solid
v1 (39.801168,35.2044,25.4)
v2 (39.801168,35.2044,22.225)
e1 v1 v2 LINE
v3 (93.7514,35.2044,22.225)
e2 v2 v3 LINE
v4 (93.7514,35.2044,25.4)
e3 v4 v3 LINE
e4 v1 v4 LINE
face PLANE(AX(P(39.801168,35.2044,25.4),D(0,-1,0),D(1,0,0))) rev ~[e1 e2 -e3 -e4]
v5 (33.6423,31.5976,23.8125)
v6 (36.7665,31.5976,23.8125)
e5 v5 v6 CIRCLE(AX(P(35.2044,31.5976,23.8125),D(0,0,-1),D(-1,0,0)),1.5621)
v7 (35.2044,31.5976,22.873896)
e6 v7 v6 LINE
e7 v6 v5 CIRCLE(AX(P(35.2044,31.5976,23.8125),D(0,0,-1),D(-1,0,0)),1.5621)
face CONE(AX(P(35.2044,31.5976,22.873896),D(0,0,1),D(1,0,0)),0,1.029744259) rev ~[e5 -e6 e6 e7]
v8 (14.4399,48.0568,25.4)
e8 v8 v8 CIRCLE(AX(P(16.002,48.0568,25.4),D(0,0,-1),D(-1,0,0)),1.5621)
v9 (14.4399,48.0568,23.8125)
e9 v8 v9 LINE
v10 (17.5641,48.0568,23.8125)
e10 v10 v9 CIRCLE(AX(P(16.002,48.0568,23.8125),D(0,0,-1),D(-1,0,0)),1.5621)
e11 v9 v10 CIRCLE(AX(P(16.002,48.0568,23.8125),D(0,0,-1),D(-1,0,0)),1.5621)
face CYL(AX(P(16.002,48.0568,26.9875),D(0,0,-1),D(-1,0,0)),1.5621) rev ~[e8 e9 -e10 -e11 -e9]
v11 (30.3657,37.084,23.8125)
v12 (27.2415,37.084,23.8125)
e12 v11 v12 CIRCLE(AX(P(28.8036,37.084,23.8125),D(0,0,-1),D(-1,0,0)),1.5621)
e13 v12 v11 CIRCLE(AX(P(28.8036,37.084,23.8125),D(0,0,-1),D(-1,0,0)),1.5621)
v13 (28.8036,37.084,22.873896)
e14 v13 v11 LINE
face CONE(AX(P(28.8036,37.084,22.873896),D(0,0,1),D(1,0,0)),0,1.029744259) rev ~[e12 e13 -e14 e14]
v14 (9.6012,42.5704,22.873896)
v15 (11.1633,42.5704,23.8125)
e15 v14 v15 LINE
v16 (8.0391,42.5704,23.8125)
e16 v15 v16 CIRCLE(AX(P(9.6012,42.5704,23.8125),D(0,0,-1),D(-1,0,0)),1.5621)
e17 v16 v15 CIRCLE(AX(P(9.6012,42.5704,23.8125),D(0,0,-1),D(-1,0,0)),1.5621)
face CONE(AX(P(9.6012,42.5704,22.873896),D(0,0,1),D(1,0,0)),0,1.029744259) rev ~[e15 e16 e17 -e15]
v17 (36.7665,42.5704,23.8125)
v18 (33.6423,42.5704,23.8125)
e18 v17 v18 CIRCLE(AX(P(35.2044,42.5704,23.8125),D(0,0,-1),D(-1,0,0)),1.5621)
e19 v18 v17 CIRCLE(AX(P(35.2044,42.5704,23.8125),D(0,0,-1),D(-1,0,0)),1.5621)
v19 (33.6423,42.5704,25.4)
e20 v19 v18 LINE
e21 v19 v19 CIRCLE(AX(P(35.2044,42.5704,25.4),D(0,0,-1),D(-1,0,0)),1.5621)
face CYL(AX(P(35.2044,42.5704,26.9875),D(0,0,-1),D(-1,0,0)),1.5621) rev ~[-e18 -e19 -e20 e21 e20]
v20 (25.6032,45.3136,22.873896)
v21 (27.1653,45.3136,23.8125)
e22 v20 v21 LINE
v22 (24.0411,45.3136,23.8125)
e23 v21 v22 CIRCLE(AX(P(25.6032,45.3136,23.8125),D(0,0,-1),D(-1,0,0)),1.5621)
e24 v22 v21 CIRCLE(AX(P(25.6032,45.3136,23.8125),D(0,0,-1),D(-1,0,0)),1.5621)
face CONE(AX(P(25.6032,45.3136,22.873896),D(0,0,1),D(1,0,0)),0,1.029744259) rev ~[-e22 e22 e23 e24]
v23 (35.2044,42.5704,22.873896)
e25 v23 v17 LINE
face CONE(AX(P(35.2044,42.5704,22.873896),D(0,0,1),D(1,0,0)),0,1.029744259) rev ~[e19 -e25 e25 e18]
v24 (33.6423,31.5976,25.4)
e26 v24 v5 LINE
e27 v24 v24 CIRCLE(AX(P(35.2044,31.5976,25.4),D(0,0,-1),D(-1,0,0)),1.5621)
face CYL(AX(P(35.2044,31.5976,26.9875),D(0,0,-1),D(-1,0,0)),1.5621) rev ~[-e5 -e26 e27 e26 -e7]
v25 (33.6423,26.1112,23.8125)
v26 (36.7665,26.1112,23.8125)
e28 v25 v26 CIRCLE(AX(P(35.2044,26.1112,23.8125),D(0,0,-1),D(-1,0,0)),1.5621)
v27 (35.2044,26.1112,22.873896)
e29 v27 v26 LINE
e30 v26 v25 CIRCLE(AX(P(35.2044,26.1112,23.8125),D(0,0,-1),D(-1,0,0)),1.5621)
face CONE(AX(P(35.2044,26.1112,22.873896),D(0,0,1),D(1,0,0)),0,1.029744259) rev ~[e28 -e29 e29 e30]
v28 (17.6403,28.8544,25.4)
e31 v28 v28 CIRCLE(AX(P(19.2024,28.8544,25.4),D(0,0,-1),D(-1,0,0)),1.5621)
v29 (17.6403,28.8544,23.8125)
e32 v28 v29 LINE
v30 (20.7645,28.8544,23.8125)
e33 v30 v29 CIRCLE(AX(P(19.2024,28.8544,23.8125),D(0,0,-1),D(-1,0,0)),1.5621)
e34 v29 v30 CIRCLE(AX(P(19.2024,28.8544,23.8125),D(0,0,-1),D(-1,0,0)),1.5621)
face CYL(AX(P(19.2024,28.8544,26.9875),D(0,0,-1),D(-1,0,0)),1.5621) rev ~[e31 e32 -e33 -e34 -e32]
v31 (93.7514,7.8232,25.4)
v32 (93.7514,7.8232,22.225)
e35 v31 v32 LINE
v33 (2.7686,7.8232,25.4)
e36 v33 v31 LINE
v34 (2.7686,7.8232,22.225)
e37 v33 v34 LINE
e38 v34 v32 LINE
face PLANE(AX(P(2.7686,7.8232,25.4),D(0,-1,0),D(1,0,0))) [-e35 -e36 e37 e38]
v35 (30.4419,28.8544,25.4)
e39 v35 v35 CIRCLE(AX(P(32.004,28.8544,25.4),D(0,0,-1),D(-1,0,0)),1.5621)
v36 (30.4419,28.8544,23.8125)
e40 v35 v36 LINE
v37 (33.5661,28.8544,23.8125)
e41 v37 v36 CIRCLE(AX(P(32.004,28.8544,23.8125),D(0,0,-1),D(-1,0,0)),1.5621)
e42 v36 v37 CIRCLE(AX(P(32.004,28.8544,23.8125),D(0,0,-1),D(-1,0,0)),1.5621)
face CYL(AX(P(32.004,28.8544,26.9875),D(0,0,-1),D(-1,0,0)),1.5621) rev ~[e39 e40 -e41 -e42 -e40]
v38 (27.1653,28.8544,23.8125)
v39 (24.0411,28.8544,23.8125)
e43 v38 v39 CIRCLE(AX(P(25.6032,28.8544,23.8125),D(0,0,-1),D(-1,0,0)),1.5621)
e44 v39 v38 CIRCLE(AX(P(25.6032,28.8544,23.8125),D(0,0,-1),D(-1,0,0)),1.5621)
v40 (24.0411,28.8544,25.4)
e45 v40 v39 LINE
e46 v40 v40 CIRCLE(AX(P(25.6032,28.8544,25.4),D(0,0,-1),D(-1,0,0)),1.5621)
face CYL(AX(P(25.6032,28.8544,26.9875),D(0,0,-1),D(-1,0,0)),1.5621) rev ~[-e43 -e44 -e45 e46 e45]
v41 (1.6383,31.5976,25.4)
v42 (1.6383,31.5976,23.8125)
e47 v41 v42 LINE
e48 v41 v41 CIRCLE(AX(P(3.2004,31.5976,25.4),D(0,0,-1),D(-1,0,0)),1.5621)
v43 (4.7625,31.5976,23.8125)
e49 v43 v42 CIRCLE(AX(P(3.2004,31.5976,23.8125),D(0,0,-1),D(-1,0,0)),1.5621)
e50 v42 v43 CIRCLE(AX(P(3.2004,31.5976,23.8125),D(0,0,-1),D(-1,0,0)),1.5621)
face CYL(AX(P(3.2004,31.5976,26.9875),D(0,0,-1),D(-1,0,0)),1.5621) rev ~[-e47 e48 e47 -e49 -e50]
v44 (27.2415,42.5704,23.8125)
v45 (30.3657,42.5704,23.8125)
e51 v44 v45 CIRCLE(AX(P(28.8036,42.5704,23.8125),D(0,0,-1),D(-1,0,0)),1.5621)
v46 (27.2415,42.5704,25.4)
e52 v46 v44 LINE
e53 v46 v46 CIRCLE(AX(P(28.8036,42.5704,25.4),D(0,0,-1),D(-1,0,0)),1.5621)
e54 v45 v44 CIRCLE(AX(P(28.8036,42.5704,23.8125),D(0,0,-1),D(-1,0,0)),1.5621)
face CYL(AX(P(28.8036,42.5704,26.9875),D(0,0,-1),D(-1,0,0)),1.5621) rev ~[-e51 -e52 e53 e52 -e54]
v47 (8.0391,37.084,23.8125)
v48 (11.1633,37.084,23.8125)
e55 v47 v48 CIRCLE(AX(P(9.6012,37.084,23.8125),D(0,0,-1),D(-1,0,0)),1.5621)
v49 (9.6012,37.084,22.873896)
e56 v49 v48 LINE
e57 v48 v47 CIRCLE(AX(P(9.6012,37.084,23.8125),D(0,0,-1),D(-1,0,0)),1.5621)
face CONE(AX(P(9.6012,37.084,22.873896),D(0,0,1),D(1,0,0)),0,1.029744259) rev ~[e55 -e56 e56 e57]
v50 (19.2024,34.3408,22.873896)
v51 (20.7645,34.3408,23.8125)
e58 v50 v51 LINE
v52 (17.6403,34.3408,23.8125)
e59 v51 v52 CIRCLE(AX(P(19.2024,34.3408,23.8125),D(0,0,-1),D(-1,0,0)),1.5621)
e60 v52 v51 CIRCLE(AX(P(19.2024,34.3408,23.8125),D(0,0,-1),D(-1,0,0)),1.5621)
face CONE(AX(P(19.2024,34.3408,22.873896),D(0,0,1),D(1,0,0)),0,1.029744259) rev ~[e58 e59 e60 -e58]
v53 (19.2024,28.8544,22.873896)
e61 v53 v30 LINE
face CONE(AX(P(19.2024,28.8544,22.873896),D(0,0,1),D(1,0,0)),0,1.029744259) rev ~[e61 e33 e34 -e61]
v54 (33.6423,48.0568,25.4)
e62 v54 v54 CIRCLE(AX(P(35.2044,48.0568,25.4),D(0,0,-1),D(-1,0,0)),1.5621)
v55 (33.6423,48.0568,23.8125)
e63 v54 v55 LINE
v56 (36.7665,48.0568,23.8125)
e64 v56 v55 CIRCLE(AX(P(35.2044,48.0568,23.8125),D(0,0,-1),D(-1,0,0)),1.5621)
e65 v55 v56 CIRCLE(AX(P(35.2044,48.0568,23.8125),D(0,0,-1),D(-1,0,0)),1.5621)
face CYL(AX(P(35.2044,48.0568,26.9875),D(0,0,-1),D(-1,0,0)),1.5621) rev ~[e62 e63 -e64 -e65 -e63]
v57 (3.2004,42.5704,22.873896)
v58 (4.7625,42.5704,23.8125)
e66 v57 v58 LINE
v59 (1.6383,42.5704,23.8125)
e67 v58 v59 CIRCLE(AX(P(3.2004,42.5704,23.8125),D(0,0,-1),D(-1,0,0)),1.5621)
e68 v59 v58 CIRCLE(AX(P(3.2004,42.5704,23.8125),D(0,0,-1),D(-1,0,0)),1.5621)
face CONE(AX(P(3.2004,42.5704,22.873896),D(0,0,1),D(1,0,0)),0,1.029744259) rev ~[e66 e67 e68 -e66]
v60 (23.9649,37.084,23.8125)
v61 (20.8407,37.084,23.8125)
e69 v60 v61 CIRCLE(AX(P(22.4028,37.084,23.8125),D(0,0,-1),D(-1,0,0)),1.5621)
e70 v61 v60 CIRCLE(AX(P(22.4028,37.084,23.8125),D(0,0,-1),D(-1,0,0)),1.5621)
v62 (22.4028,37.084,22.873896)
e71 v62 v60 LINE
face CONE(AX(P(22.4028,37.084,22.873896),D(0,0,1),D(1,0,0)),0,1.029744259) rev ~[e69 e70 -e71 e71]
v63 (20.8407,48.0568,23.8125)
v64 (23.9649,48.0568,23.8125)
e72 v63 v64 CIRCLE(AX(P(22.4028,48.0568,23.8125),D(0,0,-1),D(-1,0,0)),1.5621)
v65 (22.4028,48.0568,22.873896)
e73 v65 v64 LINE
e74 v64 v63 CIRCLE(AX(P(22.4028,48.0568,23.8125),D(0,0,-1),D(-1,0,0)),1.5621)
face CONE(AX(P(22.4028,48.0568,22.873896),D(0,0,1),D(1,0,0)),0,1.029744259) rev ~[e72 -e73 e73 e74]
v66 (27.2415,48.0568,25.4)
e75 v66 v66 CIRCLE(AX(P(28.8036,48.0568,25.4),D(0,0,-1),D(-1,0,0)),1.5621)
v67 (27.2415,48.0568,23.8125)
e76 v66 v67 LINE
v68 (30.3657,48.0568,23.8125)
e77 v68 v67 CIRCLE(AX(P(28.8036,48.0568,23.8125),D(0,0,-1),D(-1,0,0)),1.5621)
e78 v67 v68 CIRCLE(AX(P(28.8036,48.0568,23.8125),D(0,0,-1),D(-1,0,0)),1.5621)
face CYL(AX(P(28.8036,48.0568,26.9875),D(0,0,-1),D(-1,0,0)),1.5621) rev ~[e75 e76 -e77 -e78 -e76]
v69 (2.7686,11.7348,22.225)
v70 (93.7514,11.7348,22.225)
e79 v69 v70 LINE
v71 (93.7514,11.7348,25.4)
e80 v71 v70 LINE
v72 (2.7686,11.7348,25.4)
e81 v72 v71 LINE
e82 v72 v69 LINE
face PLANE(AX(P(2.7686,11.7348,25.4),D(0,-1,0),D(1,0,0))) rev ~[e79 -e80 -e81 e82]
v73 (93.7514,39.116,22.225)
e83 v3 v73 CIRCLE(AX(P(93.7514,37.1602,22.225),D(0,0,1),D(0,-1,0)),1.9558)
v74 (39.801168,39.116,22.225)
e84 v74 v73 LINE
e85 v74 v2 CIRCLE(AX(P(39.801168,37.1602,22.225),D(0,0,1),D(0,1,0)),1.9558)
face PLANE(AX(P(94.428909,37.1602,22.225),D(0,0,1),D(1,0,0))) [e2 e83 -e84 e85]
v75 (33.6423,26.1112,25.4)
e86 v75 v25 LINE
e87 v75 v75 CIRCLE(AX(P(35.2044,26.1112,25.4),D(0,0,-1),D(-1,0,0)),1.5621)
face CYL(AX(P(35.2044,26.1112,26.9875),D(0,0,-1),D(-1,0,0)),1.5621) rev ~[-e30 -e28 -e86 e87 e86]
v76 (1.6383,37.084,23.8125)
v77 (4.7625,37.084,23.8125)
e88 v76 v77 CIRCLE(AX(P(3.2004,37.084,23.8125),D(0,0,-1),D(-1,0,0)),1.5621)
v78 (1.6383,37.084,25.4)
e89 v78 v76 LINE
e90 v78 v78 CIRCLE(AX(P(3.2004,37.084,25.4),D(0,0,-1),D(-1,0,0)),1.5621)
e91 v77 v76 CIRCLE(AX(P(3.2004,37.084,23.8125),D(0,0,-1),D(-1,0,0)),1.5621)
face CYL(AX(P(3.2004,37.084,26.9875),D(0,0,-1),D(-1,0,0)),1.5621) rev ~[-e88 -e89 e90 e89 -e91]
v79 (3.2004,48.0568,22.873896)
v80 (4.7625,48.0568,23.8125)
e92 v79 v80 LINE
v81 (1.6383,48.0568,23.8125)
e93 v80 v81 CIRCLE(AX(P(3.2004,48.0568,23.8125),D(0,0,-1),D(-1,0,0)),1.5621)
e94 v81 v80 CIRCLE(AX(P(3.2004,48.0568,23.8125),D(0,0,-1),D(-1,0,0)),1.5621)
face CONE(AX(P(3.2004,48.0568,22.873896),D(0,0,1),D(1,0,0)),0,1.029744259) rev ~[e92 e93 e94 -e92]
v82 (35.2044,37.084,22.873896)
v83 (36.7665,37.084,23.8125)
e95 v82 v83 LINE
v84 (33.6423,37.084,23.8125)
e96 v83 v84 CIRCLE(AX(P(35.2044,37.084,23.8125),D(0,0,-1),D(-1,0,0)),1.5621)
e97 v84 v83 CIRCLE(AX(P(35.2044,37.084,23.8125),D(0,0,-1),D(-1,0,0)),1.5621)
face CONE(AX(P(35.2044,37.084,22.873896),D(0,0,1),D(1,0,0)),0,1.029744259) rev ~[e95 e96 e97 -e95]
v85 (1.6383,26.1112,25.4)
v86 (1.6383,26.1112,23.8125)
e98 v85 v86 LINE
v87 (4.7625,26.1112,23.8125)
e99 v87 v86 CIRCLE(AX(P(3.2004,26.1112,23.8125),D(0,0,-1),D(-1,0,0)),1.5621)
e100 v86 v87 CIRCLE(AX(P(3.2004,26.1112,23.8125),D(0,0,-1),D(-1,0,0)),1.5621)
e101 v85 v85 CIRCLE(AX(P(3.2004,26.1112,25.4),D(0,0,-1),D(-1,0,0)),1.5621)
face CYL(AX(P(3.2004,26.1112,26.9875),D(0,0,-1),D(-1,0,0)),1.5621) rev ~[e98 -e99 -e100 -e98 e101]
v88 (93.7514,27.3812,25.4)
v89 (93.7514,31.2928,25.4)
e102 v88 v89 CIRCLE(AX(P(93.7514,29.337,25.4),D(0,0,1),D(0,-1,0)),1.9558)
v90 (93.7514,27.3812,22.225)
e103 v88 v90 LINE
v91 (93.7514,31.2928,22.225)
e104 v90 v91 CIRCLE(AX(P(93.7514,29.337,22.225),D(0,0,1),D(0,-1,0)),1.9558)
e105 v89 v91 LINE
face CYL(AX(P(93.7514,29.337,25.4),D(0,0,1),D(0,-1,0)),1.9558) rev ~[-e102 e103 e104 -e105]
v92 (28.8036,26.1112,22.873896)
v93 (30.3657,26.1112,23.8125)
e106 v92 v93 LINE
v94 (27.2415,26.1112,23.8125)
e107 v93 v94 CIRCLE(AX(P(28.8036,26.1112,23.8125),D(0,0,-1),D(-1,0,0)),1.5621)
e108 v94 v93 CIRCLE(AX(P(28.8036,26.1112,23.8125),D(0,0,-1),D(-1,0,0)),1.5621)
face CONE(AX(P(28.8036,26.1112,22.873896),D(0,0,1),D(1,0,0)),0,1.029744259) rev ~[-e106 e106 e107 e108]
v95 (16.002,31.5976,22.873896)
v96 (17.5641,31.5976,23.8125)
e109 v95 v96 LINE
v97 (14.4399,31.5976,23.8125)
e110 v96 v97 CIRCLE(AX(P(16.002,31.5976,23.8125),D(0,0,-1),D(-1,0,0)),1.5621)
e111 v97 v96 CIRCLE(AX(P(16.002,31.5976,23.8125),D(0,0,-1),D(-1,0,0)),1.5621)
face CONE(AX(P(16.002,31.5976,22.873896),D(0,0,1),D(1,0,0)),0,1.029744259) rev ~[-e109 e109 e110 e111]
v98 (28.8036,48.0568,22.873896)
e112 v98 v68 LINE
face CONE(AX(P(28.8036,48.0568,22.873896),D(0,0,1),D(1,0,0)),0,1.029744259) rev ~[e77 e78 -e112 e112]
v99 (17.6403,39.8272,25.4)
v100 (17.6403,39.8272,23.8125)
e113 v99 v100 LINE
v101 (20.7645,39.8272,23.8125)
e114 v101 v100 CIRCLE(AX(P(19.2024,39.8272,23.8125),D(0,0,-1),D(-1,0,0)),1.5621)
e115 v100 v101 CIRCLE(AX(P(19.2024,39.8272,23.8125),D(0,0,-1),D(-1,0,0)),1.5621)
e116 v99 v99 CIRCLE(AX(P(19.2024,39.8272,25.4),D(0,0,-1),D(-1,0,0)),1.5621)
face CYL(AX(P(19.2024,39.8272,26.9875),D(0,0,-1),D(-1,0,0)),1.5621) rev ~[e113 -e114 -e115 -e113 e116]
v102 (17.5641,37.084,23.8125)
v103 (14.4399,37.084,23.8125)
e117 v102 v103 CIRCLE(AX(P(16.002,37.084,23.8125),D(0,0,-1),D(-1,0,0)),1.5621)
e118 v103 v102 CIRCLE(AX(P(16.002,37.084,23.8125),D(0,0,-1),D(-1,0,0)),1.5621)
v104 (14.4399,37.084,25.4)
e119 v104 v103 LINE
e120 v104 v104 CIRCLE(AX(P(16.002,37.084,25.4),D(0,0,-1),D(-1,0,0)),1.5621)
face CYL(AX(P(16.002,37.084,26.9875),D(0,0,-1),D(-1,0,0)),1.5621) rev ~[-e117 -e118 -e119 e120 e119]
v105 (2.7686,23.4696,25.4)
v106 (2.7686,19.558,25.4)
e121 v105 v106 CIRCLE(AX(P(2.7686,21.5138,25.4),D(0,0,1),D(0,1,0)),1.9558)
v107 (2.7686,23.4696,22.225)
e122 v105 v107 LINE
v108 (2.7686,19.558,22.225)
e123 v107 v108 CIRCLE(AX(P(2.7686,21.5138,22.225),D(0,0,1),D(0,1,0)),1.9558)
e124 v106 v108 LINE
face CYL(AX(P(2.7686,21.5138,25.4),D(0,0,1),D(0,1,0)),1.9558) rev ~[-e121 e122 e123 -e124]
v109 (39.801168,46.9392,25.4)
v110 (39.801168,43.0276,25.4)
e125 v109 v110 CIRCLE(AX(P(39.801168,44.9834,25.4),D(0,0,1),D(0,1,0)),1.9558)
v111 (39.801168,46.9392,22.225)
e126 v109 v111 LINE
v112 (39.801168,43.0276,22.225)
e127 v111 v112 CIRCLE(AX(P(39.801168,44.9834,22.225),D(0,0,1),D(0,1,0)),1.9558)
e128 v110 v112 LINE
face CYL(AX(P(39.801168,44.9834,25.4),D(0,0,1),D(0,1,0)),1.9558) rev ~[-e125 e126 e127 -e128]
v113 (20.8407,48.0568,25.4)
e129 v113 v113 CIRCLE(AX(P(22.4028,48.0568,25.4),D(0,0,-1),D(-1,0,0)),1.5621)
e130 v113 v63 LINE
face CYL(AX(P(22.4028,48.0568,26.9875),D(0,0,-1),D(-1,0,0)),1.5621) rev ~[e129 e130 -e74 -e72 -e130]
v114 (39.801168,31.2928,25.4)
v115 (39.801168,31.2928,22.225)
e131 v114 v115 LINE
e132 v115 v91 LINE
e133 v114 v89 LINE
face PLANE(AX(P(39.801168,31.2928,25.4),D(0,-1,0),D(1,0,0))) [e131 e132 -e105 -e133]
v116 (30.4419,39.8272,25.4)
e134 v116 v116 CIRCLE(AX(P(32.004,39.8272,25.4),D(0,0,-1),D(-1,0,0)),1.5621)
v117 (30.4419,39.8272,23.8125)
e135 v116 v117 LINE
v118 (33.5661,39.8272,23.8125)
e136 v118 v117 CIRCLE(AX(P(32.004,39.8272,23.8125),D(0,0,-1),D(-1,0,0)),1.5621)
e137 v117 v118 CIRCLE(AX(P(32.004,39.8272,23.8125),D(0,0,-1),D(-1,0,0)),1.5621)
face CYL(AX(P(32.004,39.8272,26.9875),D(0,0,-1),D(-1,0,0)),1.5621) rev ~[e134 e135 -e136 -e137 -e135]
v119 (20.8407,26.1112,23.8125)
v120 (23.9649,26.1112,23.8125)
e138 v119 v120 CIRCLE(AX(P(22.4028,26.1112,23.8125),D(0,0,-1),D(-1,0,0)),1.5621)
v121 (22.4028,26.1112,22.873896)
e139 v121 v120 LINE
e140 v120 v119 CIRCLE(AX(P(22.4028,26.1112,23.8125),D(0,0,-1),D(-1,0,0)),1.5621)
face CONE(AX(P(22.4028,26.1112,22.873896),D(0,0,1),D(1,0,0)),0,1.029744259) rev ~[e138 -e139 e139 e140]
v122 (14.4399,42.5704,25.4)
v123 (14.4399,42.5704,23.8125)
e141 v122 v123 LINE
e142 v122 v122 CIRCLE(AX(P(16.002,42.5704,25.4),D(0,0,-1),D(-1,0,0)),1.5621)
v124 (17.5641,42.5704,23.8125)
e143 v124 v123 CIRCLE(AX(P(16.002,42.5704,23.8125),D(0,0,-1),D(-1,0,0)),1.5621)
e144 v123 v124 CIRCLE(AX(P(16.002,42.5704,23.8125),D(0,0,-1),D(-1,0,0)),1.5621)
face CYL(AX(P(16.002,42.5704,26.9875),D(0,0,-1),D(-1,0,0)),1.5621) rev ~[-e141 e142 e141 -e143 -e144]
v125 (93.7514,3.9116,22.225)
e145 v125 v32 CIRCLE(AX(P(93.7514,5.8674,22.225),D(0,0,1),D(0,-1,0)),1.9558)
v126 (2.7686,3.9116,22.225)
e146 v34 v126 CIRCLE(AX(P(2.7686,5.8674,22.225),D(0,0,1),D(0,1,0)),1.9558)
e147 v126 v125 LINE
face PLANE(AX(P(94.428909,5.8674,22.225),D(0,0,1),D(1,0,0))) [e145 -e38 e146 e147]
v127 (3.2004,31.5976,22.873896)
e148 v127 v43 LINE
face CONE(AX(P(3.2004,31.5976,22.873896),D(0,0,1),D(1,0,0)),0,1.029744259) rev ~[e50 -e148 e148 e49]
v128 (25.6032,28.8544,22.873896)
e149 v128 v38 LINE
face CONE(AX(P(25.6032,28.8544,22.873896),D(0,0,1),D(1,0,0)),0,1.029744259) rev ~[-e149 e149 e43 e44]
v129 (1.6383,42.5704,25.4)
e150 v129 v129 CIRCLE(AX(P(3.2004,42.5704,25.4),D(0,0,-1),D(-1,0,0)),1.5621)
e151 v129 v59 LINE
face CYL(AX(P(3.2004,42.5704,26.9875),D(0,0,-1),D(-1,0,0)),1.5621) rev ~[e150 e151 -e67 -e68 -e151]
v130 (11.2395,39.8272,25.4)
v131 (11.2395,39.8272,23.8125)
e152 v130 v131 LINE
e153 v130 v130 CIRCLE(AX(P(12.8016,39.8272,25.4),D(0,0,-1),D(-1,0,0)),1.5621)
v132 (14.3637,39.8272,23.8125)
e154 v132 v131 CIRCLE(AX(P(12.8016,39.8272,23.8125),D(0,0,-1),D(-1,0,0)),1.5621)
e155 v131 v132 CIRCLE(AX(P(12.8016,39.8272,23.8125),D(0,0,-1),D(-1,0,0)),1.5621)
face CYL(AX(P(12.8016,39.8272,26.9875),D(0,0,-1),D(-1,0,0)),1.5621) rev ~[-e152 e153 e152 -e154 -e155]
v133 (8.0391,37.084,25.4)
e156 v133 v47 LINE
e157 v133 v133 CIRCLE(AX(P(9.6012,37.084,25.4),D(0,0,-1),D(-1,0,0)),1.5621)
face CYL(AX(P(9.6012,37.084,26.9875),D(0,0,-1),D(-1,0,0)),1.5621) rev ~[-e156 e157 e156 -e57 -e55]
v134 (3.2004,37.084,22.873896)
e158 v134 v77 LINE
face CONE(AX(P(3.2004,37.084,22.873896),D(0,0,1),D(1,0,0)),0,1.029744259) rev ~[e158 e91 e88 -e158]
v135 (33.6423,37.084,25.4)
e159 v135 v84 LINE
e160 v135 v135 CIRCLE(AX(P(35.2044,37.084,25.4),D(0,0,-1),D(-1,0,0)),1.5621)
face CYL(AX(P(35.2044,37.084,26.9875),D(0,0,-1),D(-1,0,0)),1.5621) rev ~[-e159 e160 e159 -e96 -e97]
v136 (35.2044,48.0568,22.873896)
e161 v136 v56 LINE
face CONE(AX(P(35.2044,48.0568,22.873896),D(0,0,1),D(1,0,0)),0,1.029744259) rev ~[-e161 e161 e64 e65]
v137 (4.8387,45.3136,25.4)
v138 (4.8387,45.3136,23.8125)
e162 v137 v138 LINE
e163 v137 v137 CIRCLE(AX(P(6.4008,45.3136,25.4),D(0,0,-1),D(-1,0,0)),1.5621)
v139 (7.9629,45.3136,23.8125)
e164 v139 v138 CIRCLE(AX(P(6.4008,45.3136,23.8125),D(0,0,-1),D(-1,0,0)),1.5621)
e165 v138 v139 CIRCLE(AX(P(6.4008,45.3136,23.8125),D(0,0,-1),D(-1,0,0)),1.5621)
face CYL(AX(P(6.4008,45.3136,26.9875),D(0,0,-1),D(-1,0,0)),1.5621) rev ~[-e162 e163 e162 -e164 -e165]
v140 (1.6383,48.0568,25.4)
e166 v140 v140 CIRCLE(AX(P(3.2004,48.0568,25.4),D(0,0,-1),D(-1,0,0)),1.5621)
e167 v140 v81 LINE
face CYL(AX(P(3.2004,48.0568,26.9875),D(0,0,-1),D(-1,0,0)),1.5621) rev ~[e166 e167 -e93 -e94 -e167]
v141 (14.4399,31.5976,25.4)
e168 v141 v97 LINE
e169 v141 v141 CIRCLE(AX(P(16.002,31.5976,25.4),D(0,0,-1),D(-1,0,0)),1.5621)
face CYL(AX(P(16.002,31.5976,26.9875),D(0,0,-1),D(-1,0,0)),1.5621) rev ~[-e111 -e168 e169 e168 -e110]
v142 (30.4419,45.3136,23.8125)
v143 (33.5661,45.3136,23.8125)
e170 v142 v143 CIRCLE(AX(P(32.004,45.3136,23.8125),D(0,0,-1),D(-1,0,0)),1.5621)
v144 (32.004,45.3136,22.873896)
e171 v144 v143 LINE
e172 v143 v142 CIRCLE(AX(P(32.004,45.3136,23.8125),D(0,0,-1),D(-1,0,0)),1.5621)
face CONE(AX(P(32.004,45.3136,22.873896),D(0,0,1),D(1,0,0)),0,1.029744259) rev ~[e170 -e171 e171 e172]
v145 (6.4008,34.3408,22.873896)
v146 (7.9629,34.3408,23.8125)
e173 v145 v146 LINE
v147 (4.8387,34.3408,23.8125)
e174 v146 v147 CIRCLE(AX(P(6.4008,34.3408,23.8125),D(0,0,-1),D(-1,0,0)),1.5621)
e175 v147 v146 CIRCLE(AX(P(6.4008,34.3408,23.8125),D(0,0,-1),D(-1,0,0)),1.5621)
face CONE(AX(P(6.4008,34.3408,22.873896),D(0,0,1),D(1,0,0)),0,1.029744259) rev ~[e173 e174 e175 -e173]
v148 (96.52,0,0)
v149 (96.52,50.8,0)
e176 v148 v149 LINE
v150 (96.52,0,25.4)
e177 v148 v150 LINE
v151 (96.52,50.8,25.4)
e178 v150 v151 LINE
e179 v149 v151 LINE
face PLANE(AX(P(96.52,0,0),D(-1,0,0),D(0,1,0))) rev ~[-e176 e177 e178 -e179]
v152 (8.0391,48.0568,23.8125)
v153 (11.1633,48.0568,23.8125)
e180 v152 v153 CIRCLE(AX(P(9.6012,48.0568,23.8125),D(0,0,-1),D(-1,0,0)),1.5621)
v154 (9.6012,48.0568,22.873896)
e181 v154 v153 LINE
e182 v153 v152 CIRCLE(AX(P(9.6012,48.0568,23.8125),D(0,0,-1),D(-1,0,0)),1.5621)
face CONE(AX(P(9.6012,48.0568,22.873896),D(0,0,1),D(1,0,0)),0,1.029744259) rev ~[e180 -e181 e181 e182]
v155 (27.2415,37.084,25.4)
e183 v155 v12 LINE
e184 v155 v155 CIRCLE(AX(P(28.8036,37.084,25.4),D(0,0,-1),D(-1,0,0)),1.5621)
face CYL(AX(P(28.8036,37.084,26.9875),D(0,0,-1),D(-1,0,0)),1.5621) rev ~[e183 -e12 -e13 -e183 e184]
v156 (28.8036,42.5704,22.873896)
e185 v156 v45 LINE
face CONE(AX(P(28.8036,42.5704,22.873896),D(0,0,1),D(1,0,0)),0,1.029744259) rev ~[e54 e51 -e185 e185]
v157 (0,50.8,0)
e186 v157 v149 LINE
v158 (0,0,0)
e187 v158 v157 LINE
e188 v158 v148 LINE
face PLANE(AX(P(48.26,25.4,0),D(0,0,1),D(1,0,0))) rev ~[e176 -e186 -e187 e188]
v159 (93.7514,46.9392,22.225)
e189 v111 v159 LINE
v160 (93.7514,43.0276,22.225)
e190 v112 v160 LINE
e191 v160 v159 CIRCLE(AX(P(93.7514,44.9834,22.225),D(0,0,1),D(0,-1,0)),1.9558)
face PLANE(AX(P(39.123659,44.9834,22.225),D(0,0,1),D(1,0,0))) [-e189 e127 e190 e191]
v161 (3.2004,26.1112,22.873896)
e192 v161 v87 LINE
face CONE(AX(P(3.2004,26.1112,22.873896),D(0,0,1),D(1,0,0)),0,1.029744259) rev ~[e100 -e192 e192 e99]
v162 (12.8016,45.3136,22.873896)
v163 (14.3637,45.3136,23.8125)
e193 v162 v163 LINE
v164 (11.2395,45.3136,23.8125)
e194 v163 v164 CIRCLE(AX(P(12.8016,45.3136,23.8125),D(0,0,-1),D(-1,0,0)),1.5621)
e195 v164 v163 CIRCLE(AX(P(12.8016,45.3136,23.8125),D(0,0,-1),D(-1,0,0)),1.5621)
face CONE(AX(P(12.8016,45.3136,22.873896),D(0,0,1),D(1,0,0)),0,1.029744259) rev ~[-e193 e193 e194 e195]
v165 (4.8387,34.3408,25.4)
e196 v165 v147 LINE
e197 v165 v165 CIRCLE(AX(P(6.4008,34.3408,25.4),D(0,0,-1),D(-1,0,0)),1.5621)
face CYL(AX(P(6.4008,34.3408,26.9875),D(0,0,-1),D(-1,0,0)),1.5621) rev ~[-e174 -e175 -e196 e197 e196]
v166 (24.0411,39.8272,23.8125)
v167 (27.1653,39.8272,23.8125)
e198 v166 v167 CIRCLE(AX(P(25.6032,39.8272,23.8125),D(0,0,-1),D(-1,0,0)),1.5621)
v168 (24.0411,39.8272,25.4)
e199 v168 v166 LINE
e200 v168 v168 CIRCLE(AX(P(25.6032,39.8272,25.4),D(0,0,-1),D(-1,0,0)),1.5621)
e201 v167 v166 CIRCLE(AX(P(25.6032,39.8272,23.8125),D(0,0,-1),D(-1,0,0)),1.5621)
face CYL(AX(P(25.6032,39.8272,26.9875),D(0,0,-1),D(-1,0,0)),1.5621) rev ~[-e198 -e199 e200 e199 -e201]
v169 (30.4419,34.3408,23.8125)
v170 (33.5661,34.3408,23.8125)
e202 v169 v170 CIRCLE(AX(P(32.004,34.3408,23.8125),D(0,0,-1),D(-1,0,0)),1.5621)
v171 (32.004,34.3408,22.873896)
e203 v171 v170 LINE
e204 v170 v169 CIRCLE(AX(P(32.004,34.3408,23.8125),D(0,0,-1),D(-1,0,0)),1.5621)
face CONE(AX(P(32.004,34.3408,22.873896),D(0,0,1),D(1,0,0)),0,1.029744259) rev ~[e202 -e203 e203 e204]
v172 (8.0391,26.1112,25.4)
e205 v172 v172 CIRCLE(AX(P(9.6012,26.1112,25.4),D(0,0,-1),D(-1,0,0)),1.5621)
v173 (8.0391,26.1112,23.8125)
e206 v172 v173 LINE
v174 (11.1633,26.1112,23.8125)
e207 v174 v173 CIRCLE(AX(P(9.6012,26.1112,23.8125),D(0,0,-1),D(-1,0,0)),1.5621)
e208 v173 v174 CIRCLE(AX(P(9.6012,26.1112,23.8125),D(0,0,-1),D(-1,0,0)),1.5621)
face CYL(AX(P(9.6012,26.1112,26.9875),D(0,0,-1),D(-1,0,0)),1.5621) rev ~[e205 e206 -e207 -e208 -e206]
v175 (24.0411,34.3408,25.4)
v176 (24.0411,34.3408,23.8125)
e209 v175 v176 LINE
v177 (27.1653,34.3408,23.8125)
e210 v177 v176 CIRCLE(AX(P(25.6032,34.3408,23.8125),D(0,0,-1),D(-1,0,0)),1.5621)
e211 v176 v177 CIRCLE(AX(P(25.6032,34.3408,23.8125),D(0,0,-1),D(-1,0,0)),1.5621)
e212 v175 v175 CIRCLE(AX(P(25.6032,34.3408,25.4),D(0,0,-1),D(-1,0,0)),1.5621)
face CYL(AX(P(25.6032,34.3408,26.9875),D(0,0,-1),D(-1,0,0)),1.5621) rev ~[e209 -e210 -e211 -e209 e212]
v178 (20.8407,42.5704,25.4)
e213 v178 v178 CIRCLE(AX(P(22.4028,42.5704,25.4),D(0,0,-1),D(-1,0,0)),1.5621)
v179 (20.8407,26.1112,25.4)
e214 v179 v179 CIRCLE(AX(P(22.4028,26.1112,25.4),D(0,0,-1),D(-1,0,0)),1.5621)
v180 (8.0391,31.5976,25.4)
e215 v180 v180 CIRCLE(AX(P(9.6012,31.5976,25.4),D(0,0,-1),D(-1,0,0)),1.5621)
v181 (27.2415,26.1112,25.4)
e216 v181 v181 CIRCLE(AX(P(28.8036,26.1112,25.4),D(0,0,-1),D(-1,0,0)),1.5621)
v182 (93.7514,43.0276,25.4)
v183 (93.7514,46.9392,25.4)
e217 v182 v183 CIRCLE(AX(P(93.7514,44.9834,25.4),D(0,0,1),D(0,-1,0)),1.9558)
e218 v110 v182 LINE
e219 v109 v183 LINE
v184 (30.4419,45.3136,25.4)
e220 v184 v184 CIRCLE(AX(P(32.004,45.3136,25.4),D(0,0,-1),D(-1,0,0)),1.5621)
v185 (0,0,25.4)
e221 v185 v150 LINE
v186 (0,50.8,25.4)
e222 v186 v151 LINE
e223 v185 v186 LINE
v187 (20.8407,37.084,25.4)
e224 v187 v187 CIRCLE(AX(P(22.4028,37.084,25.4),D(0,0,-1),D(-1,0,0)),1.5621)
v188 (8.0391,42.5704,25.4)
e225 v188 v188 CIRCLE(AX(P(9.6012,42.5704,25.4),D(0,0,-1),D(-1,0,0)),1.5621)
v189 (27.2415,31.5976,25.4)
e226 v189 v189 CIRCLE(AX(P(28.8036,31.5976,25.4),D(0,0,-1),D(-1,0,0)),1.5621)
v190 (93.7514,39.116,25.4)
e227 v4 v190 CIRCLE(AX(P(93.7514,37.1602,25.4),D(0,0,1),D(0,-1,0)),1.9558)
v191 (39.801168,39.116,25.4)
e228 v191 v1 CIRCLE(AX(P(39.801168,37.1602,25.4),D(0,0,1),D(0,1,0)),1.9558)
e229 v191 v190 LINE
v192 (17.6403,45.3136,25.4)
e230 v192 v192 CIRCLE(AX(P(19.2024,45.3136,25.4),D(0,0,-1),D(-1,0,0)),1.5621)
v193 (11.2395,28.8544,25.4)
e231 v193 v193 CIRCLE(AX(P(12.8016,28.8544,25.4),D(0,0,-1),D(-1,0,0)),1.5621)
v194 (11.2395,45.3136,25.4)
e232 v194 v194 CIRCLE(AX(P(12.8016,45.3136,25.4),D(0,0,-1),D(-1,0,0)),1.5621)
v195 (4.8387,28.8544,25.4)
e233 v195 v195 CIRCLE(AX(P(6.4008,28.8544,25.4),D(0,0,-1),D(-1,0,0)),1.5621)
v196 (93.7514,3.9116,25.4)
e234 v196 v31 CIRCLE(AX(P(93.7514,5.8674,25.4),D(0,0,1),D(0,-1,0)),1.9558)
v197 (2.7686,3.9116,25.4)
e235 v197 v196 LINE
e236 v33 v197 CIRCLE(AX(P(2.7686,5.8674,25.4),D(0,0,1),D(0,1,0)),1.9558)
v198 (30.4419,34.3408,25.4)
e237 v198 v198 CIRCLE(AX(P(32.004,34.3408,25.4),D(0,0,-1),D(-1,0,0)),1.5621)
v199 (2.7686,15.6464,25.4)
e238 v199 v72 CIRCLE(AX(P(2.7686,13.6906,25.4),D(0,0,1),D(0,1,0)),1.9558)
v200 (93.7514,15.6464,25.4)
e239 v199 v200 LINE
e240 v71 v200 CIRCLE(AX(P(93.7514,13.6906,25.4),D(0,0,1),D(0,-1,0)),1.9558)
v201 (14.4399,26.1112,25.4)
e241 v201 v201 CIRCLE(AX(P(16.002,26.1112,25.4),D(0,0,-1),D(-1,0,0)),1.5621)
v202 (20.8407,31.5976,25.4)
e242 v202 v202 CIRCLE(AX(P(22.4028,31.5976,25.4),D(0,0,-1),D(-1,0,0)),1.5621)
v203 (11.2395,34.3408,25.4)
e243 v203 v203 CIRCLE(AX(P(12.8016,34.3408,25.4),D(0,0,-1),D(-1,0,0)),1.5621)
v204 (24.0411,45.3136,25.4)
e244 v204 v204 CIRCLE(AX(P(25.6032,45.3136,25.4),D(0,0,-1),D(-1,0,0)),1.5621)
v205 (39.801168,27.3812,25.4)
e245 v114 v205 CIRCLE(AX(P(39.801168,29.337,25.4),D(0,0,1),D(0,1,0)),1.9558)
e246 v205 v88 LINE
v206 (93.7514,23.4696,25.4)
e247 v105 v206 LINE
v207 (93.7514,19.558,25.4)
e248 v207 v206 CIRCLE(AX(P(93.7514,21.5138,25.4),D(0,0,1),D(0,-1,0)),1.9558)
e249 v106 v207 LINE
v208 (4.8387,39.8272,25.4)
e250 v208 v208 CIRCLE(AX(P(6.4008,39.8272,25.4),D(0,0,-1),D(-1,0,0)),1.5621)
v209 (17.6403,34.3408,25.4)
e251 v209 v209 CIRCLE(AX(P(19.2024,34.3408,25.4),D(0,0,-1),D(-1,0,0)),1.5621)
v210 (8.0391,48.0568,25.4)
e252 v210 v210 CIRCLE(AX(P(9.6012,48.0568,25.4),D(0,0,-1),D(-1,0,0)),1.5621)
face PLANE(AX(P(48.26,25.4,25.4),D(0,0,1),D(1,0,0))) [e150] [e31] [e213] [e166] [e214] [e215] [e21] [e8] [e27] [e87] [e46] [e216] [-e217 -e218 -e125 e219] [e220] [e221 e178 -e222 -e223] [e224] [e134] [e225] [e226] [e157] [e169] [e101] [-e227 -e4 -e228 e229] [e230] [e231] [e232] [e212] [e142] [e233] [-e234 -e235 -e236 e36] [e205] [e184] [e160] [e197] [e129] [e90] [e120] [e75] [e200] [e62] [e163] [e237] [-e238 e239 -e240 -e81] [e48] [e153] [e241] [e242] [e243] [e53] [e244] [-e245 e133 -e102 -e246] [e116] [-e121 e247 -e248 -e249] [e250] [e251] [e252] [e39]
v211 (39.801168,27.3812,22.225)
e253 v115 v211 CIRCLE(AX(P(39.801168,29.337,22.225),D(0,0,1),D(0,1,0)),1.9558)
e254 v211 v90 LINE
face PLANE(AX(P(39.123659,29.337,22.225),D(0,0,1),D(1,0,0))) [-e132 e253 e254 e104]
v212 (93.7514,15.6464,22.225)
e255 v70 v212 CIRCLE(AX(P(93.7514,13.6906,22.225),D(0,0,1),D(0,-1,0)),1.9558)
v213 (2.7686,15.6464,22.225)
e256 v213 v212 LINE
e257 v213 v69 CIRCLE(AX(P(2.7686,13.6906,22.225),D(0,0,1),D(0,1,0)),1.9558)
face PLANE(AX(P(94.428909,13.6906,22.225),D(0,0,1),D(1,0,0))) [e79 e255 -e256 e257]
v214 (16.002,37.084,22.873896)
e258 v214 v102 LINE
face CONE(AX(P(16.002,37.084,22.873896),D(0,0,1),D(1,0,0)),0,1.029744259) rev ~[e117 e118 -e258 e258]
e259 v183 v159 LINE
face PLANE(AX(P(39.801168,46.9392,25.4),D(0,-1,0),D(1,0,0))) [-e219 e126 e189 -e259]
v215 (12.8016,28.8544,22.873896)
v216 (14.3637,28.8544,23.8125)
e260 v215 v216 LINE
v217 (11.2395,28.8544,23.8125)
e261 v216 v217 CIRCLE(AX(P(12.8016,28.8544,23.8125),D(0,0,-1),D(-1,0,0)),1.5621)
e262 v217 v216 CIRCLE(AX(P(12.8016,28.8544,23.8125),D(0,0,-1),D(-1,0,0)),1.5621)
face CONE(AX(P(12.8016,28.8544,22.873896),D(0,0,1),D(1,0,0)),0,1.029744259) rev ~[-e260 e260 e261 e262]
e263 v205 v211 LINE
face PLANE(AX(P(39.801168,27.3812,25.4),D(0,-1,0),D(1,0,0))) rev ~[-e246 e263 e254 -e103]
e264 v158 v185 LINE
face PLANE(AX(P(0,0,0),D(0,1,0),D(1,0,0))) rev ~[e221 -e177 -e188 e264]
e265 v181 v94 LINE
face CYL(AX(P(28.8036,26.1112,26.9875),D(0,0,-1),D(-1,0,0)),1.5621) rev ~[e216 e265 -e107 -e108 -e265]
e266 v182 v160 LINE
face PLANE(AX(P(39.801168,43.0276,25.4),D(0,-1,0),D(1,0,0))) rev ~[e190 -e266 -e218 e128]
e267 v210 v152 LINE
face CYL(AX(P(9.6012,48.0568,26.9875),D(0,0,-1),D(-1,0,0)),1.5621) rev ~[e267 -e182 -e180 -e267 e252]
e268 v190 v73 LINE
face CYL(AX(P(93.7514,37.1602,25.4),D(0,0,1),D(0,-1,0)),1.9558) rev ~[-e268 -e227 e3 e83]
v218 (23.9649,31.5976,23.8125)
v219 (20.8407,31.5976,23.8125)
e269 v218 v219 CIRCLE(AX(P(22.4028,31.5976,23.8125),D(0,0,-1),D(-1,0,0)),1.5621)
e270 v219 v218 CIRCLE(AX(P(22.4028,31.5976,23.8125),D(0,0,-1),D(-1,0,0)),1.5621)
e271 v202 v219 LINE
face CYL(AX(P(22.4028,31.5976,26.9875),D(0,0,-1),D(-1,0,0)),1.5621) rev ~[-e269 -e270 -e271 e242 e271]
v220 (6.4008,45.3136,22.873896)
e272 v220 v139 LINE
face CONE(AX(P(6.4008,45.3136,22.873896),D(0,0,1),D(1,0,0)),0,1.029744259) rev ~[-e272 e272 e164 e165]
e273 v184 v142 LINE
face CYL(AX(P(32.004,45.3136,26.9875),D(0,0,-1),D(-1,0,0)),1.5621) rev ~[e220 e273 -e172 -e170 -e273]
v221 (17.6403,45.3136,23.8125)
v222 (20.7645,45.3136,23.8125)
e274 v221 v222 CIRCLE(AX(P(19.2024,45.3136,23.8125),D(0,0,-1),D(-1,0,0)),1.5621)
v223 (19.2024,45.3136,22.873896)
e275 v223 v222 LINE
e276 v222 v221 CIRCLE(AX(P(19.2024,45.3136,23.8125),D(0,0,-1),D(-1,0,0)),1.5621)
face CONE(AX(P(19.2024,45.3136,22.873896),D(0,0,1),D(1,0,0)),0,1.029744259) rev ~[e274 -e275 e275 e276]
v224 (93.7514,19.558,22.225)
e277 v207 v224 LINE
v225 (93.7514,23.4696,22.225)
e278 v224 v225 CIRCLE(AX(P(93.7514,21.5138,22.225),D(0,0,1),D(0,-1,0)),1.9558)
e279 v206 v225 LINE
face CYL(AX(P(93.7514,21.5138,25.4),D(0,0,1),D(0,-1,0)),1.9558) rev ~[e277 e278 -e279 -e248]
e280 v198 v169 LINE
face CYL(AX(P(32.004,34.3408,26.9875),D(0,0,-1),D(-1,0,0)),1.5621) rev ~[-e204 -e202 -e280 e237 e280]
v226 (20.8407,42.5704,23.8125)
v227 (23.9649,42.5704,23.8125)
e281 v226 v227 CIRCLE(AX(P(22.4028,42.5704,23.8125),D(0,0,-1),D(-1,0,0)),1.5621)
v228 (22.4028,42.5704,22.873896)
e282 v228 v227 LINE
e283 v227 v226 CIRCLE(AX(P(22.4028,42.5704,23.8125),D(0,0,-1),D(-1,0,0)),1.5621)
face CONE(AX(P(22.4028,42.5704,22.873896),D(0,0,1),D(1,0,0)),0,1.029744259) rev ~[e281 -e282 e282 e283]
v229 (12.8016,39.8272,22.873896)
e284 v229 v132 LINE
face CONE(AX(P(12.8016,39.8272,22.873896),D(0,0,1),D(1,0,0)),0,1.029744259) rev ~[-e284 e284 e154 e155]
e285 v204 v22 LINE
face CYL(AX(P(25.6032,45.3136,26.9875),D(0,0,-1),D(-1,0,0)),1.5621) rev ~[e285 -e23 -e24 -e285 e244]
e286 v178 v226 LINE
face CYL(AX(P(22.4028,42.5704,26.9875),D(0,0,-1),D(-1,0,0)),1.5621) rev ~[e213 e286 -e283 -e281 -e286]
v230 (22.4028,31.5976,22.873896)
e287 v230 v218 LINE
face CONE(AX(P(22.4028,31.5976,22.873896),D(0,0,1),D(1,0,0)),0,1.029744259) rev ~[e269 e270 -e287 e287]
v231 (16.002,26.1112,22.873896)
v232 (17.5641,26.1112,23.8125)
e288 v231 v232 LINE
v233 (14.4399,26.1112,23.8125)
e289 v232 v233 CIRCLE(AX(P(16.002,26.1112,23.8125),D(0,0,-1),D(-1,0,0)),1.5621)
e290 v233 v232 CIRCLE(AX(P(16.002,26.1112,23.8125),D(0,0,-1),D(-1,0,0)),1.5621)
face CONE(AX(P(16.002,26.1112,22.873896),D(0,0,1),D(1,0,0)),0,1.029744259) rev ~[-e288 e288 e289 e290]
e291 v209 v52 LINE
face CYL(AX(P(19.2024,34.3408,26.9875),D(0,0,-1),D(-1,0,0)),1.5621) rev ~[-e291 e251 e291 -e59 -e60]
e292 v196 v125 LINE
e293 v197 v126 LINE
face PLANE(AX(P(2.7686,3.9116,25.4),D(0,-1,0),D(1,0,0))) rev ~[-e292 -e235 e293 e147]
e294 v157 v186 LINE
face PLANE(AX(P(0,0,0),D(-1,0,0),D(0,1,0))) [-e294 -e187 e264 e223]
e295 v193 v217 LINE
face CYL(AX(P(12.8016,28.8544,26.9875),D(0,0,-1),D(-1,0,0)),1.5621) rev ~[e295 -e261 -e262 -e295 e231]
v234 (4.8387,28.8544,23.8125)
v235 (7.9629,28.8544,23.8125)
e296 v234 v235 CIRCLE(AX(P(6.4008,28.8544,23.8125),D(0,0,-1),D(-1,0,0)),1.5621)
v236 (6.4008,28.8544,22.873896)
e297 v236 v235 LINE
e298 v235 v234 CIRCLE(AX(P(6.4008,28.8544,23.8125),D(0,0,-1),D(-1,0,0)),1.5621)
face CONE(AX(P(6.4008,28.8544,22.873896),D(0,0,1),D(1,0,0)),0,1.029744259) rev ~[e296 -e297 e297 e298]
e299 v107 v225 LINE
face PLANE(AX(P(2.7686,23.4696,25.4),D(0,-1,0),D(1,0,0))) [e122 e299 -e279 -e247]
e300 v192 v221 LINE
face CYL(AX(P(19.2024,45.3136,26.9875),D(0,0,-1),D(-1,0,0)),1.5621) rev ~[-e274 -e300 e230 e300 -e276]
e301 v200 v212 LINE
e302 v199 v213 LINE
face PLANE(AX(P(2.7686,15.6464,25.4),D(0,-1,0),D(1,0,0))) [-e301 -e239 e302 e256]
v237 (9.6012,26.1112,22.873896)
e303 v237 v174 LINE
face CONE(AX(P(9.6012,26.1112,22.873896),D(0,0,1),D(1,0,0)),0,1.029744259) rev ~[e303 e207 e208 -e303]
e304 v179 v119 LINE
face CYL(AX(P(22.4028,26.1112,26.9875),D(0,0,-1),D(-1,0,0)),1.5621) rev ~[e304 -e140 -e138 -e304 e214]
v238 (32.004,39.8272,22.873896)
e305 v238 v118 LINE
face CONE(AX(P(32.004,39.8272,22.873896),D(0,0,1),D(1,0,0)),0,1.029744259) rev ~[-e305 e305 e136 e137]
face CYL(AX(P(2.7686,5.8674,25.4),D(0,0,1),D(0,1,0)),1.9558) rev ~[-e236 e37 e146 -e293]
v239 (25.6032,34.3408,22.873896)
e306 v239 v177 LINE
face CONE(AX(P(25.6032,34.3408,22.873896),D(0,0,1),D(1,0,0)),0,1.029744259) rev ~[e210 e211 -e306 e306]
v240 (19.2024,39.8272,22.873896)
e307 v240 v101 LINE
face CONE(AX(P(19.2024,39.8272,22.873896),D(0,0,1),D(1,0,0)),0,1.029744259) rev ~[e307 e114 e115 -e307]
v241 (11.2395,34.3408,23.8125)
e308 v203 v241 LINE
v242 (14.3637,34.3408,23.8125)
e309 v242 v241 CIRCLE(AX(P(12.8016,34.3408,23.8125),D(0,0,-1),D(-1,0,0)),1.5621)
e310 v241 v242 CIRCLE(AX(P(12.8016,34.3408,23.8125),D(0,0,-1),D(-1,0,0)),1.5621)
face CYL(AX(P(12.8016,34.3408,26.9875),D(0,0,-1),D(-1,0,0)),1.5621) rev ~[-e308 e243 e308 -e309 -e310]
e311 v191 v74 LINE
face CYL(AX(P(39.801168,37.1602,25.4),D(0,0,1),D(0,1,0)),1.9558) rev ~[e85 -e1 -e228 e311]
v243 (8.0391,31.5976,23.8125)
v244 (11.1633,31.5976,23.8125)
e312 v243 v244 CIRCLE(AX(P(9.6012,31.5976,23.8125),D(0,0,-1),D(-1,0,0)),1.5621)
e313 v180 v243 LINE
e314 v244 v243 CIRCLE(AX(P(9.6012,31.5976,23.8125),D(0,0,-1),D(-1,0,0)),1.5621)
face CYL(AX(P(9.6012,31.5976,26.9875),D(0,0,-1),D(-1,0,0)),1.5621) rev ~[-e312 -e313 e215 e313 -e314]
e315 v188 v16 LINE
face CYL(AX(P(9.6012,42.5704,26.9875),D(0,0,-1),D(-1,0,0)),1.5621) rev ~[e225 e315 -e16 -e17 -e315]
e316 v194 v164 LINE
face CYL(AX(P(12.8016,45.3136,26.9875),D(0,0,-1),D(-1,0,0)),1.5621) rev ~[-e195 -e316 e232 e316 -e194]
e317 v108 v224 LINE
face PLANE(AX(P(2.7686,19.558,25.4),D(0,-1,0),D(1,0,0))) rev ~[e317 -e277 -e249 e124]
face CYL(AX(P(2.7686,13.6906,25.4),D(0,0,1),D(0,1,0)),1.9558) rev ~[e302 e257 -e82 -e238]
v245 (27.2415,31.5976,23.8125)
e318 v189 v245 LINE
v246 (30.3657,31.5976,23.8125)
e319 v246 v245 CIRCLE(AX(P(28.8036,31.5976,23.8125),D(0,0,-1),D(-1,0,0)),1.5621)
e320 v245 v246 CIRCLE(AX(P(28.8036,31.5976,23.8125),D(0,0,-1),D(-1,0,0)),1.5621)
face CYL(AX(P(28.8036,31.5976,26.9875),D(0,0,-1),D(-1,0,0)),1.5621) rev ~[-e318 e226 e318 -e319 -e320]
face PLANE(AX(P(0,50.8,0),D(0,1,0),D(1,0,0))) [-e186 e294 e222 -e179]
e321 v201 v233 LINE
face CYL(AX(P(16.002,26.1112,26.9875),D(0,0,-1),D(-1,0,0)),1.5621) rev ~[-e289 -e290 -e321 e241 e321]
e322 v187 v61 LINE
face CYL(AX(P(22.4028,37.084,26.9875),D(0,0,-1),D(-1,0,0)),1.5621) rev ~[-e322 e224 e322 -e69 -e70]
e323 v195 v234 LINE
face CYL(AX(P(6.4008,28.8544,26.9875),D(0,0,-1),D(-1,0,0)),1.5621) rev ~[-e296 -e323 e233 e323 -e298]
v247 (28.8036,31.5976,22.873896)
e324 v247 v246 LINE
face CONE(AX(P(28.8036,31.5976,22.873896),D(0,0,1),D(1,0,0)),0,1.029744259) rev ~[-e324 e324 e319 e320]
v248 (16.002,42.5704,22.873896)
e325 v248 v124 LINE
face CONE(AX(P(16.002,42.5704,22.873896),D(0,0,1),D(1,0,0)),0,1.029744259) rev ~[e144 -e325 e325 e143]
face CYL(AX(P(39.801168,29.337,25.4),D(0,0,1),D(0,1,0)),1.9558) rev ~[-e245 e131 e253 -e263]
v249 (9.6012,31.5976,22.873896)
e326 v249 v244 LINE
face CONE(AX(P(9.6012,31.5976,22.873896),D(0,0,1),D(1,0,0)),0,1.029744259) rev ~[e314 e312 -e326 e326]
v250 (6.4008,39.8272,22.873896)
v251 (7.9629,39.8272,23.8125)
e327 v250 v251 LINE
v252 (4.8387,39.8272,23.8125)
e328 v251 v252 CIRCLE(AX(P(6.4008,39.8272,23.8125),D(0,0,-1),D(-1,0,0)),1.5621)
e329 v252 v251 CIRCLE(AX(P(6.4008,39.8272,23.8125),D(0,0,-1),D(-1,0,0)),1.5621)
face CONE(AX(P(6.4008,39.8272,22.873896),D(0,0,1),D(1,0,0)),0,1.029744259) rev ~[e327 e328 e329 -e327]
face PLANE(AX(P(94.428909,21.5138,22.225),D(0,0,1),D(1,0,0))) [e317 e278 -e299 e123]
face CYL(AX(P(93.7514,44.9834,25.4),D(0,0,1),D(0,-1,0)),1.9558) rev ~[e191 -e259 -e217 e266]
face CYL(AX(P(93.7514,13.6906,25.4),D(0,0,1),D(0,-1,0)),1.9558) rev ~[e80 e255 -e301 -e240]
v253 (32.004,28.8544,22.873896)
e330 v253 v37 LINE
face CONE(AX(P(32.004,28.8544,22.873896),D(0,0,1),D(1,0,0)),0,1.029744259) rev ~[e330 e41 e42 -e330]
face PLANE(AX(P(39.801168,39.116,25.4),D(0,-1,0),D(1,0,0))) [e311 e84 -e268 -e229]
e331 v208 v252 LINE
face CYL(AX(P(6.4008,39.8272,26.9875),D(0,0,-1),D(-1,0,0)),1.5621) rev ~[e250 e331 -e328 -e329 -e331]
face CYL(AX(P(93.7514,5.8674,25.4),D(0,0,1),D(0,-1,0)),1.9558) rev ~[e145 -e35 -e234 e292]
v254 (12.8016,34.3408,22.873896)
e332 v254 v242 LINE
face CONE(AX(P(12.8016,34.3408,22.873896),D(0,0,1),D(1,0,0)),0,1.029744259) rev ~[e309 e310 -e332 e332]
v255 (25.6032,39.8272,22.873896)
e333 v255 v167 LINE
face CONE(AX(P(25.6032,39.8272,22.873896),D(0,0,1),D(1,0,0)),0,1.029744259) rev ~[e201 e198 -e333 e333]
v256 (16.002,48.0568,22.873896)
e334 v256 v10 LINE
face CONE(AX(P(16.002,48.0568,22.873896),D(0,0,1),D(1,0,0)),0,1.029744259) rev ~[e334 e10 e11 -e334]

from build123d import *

# Parameters (mm, degrees)
F0_W     = 96.52
F0_H     = 50.8
F1_DEPTH = 25.4
F3_D     = 3.1242
F3_DEPTH = 1.5875
F3_TIP   = 0.938604373
F4_W     = 53.9502315351
F4_H     = 3.9116
F4_W_2   = 90.9828
F5_DEPTH = 3.175


with BuildPart() as f1:
    # F0 (on Top) → F1 (new body)
    with BuildSketch(Plane.XY):
        with Locations((48.26, 25.4)):
            Rectangle(F0_W, F0_H)
    extrude(amount=F1_DEPTH)

    # F3
    with Locations(Plane.XY.offset(25.4)):
        with Locations((28.8036, 48.0568), (35.2044, 48.0568), (22.4028, 48.0568), (16.002, 48.0568), (9.6012, 48.0568), (3.2004, 48.0568), (6.4008, 45.3136), (9.6012, 42.5704), (12.8016, 45.3136), (16.002, 42.5704), (19.2024, 45.3136), (22.4028, 42.5704), (25.6032, 45.3136), (28.8036, 42.5704), (32.004, 45.3136), (35.2044, 42.5704), (32.004, 39.8272), (35.2044, 37.084), (32.004, 34.3408), (28.8036, 37.084), (25.6032, 39.8272), (19.2024, 39.8272), (22.4028, 37.084), (25.6032, 34.3408), (28.8036, 31.5976), (32.004, 28.8544), (35.2044, 31.5976), (28.8036, 26.1112), (25.6032, 28.8544), (22.4028, 31.5976), (19.2024, 34.3408), (12.8016, 39.8272), (3.2004, 42.5704), (6.4008, 39.8272), (3.2004, 37.084), (6.4008, 34.3408), (9.6012, 37.084), (12.8016, 34.3408), (9.6012, 31.5976), (6.4008, 28.8544), (3.2004, 31.5976), (3.2004, 26.1112), (16.002, 26.1112), (19.2024, 28.8544), (22.4028, 26.1112), (35.2044, 26.1112), (16.002, 31.5976), (9.6012, 26.1112), (12.8016, 28.8544), (16.002, 37.084)):
            Hole(F3_D / 2, depth=F3_DEPTH)
            with Locations((0, 0, -(F3_DEPTH + F3_TIP / 2))):  # 118° drill point
                Cone(0, F3_D / 2, F3_TIP, mode=Mode.SUBTRACT)

    # F4 (on face) → F5 (cut)
    with BuildSketch(Plane.XY.offset(25.4)):
        with BuildLine():
            ThreePointArc((39.8011684649, 46.9392), (37.8453684649, 44.9834), (39.8011684649, 43.0276))
            Line((39.8011684649, 43.0276), (39.8011684649, 46.9392))
        make_face()
        with Locations((66.7762842325, 44.9834)):
            Rectangle(F4_W, F4_H)
        with BuildLine():
            Line((93.7514, 46.9392), (93.7514, 43.0276))
            ThreePointArc((93.7514, 43.0276), (95.7072, 44.9834), (93.7514, 46.9392))
        make_face()
        with BuildLine():
            Line((93.7514, 39.116), (93.7514, 35.2044))
            ThreePointArc((93.7514, 35.2044), (95.7072, 37.1602), (93.7514, 39.116))
        make_face()
        with Locations((66.7762842325, 37.1602)):
            Rectangle(F4_W, F4_H)
        with BuildLine():
            ThreePointArc((39.8011684649, 39.116), (37.8453684649, 37.1602), (39.8011684649, 35.2044))
            Line((39.8011684649, 35.2044), (39.8011684649, 39.116))
        make_face()
        with BuildLine():
            ThreePointArc((39.8011684649, 31.2928), (37.8453684649, 29.337), (39.8011684649, 27.3812))
            Line((39.8011684649, 27.3812), (39.8011684649, 31.2928))
        make_face()
        with Locations((66.7762842325, 29.337)):
            Rectangle(F4_W, F4_H)
        with BuildLine():
            Line((93.7514, 31.2928), (93.7514, 27.3812))
            ThreePointArc((93.7514, 27.3812), (95.7072, 29.337), (93.7514, 31.2928))
        make_face()
        with BuildLine():
            Line((93.7514, 23.4696), (93.7514, 19.558))
            ThreePointArc((93.7514, 19.558), (95.7072, 21.5138), (93.7514, 23.4696))
        make_face()
        with Locations((48.26, 21.5138)):
            Rectangle(F4_W_2, F4_H)
        with BuildLine():
            ThreePointArc((93.7514, 11.7348), (95.7072, 13.6906), (93.7514, 15.6464))
            Line((93.7514, 15.6464), (93.7514, 11.7348))
        make_face()
        with Locations((48.26, 13.6906)):
            Rectangle(F4_W_2, F4_H)
        with BuildLine():
            Line((93.7514, 7.8232), (93.7514, 3.9116))
            ThreePointArc((93.7514, 3.9116), (95.7072, 5.8674), (93.7514, 7.8232))
        make_face()
        with Locations((48.26, 5.8674)):
            Rectangle(F4_W_2, F4_H)
        with BuildLine():
            ThreePointArc((2.7686, 7.8232), (0.8128, 5.8674), (2.7686, 3.9116))
            Line((2.7686, 3.9116), (2.7686, 7.8232))
        make_face()
        with BuildLine():
            Line((2.7686, 11.7348), (2.7686, 15.6464))
            ThreePointArc((2.7686, 15.6464), (0.8128, 13.6906), (2.7686, 11.7348))
        make_face()
        with BuildLine():
            ThreePointArc((2.7686, 23.4696), (0.8128, 21.5138), (2.7686, 19.558))
            Line((2.7686, 19.558), (2.7686, 23.4696))
        make_face()
    extrude(amount=-F5_DEPTH, mode=Mode.SUBTRACT)


solid = f1.part
